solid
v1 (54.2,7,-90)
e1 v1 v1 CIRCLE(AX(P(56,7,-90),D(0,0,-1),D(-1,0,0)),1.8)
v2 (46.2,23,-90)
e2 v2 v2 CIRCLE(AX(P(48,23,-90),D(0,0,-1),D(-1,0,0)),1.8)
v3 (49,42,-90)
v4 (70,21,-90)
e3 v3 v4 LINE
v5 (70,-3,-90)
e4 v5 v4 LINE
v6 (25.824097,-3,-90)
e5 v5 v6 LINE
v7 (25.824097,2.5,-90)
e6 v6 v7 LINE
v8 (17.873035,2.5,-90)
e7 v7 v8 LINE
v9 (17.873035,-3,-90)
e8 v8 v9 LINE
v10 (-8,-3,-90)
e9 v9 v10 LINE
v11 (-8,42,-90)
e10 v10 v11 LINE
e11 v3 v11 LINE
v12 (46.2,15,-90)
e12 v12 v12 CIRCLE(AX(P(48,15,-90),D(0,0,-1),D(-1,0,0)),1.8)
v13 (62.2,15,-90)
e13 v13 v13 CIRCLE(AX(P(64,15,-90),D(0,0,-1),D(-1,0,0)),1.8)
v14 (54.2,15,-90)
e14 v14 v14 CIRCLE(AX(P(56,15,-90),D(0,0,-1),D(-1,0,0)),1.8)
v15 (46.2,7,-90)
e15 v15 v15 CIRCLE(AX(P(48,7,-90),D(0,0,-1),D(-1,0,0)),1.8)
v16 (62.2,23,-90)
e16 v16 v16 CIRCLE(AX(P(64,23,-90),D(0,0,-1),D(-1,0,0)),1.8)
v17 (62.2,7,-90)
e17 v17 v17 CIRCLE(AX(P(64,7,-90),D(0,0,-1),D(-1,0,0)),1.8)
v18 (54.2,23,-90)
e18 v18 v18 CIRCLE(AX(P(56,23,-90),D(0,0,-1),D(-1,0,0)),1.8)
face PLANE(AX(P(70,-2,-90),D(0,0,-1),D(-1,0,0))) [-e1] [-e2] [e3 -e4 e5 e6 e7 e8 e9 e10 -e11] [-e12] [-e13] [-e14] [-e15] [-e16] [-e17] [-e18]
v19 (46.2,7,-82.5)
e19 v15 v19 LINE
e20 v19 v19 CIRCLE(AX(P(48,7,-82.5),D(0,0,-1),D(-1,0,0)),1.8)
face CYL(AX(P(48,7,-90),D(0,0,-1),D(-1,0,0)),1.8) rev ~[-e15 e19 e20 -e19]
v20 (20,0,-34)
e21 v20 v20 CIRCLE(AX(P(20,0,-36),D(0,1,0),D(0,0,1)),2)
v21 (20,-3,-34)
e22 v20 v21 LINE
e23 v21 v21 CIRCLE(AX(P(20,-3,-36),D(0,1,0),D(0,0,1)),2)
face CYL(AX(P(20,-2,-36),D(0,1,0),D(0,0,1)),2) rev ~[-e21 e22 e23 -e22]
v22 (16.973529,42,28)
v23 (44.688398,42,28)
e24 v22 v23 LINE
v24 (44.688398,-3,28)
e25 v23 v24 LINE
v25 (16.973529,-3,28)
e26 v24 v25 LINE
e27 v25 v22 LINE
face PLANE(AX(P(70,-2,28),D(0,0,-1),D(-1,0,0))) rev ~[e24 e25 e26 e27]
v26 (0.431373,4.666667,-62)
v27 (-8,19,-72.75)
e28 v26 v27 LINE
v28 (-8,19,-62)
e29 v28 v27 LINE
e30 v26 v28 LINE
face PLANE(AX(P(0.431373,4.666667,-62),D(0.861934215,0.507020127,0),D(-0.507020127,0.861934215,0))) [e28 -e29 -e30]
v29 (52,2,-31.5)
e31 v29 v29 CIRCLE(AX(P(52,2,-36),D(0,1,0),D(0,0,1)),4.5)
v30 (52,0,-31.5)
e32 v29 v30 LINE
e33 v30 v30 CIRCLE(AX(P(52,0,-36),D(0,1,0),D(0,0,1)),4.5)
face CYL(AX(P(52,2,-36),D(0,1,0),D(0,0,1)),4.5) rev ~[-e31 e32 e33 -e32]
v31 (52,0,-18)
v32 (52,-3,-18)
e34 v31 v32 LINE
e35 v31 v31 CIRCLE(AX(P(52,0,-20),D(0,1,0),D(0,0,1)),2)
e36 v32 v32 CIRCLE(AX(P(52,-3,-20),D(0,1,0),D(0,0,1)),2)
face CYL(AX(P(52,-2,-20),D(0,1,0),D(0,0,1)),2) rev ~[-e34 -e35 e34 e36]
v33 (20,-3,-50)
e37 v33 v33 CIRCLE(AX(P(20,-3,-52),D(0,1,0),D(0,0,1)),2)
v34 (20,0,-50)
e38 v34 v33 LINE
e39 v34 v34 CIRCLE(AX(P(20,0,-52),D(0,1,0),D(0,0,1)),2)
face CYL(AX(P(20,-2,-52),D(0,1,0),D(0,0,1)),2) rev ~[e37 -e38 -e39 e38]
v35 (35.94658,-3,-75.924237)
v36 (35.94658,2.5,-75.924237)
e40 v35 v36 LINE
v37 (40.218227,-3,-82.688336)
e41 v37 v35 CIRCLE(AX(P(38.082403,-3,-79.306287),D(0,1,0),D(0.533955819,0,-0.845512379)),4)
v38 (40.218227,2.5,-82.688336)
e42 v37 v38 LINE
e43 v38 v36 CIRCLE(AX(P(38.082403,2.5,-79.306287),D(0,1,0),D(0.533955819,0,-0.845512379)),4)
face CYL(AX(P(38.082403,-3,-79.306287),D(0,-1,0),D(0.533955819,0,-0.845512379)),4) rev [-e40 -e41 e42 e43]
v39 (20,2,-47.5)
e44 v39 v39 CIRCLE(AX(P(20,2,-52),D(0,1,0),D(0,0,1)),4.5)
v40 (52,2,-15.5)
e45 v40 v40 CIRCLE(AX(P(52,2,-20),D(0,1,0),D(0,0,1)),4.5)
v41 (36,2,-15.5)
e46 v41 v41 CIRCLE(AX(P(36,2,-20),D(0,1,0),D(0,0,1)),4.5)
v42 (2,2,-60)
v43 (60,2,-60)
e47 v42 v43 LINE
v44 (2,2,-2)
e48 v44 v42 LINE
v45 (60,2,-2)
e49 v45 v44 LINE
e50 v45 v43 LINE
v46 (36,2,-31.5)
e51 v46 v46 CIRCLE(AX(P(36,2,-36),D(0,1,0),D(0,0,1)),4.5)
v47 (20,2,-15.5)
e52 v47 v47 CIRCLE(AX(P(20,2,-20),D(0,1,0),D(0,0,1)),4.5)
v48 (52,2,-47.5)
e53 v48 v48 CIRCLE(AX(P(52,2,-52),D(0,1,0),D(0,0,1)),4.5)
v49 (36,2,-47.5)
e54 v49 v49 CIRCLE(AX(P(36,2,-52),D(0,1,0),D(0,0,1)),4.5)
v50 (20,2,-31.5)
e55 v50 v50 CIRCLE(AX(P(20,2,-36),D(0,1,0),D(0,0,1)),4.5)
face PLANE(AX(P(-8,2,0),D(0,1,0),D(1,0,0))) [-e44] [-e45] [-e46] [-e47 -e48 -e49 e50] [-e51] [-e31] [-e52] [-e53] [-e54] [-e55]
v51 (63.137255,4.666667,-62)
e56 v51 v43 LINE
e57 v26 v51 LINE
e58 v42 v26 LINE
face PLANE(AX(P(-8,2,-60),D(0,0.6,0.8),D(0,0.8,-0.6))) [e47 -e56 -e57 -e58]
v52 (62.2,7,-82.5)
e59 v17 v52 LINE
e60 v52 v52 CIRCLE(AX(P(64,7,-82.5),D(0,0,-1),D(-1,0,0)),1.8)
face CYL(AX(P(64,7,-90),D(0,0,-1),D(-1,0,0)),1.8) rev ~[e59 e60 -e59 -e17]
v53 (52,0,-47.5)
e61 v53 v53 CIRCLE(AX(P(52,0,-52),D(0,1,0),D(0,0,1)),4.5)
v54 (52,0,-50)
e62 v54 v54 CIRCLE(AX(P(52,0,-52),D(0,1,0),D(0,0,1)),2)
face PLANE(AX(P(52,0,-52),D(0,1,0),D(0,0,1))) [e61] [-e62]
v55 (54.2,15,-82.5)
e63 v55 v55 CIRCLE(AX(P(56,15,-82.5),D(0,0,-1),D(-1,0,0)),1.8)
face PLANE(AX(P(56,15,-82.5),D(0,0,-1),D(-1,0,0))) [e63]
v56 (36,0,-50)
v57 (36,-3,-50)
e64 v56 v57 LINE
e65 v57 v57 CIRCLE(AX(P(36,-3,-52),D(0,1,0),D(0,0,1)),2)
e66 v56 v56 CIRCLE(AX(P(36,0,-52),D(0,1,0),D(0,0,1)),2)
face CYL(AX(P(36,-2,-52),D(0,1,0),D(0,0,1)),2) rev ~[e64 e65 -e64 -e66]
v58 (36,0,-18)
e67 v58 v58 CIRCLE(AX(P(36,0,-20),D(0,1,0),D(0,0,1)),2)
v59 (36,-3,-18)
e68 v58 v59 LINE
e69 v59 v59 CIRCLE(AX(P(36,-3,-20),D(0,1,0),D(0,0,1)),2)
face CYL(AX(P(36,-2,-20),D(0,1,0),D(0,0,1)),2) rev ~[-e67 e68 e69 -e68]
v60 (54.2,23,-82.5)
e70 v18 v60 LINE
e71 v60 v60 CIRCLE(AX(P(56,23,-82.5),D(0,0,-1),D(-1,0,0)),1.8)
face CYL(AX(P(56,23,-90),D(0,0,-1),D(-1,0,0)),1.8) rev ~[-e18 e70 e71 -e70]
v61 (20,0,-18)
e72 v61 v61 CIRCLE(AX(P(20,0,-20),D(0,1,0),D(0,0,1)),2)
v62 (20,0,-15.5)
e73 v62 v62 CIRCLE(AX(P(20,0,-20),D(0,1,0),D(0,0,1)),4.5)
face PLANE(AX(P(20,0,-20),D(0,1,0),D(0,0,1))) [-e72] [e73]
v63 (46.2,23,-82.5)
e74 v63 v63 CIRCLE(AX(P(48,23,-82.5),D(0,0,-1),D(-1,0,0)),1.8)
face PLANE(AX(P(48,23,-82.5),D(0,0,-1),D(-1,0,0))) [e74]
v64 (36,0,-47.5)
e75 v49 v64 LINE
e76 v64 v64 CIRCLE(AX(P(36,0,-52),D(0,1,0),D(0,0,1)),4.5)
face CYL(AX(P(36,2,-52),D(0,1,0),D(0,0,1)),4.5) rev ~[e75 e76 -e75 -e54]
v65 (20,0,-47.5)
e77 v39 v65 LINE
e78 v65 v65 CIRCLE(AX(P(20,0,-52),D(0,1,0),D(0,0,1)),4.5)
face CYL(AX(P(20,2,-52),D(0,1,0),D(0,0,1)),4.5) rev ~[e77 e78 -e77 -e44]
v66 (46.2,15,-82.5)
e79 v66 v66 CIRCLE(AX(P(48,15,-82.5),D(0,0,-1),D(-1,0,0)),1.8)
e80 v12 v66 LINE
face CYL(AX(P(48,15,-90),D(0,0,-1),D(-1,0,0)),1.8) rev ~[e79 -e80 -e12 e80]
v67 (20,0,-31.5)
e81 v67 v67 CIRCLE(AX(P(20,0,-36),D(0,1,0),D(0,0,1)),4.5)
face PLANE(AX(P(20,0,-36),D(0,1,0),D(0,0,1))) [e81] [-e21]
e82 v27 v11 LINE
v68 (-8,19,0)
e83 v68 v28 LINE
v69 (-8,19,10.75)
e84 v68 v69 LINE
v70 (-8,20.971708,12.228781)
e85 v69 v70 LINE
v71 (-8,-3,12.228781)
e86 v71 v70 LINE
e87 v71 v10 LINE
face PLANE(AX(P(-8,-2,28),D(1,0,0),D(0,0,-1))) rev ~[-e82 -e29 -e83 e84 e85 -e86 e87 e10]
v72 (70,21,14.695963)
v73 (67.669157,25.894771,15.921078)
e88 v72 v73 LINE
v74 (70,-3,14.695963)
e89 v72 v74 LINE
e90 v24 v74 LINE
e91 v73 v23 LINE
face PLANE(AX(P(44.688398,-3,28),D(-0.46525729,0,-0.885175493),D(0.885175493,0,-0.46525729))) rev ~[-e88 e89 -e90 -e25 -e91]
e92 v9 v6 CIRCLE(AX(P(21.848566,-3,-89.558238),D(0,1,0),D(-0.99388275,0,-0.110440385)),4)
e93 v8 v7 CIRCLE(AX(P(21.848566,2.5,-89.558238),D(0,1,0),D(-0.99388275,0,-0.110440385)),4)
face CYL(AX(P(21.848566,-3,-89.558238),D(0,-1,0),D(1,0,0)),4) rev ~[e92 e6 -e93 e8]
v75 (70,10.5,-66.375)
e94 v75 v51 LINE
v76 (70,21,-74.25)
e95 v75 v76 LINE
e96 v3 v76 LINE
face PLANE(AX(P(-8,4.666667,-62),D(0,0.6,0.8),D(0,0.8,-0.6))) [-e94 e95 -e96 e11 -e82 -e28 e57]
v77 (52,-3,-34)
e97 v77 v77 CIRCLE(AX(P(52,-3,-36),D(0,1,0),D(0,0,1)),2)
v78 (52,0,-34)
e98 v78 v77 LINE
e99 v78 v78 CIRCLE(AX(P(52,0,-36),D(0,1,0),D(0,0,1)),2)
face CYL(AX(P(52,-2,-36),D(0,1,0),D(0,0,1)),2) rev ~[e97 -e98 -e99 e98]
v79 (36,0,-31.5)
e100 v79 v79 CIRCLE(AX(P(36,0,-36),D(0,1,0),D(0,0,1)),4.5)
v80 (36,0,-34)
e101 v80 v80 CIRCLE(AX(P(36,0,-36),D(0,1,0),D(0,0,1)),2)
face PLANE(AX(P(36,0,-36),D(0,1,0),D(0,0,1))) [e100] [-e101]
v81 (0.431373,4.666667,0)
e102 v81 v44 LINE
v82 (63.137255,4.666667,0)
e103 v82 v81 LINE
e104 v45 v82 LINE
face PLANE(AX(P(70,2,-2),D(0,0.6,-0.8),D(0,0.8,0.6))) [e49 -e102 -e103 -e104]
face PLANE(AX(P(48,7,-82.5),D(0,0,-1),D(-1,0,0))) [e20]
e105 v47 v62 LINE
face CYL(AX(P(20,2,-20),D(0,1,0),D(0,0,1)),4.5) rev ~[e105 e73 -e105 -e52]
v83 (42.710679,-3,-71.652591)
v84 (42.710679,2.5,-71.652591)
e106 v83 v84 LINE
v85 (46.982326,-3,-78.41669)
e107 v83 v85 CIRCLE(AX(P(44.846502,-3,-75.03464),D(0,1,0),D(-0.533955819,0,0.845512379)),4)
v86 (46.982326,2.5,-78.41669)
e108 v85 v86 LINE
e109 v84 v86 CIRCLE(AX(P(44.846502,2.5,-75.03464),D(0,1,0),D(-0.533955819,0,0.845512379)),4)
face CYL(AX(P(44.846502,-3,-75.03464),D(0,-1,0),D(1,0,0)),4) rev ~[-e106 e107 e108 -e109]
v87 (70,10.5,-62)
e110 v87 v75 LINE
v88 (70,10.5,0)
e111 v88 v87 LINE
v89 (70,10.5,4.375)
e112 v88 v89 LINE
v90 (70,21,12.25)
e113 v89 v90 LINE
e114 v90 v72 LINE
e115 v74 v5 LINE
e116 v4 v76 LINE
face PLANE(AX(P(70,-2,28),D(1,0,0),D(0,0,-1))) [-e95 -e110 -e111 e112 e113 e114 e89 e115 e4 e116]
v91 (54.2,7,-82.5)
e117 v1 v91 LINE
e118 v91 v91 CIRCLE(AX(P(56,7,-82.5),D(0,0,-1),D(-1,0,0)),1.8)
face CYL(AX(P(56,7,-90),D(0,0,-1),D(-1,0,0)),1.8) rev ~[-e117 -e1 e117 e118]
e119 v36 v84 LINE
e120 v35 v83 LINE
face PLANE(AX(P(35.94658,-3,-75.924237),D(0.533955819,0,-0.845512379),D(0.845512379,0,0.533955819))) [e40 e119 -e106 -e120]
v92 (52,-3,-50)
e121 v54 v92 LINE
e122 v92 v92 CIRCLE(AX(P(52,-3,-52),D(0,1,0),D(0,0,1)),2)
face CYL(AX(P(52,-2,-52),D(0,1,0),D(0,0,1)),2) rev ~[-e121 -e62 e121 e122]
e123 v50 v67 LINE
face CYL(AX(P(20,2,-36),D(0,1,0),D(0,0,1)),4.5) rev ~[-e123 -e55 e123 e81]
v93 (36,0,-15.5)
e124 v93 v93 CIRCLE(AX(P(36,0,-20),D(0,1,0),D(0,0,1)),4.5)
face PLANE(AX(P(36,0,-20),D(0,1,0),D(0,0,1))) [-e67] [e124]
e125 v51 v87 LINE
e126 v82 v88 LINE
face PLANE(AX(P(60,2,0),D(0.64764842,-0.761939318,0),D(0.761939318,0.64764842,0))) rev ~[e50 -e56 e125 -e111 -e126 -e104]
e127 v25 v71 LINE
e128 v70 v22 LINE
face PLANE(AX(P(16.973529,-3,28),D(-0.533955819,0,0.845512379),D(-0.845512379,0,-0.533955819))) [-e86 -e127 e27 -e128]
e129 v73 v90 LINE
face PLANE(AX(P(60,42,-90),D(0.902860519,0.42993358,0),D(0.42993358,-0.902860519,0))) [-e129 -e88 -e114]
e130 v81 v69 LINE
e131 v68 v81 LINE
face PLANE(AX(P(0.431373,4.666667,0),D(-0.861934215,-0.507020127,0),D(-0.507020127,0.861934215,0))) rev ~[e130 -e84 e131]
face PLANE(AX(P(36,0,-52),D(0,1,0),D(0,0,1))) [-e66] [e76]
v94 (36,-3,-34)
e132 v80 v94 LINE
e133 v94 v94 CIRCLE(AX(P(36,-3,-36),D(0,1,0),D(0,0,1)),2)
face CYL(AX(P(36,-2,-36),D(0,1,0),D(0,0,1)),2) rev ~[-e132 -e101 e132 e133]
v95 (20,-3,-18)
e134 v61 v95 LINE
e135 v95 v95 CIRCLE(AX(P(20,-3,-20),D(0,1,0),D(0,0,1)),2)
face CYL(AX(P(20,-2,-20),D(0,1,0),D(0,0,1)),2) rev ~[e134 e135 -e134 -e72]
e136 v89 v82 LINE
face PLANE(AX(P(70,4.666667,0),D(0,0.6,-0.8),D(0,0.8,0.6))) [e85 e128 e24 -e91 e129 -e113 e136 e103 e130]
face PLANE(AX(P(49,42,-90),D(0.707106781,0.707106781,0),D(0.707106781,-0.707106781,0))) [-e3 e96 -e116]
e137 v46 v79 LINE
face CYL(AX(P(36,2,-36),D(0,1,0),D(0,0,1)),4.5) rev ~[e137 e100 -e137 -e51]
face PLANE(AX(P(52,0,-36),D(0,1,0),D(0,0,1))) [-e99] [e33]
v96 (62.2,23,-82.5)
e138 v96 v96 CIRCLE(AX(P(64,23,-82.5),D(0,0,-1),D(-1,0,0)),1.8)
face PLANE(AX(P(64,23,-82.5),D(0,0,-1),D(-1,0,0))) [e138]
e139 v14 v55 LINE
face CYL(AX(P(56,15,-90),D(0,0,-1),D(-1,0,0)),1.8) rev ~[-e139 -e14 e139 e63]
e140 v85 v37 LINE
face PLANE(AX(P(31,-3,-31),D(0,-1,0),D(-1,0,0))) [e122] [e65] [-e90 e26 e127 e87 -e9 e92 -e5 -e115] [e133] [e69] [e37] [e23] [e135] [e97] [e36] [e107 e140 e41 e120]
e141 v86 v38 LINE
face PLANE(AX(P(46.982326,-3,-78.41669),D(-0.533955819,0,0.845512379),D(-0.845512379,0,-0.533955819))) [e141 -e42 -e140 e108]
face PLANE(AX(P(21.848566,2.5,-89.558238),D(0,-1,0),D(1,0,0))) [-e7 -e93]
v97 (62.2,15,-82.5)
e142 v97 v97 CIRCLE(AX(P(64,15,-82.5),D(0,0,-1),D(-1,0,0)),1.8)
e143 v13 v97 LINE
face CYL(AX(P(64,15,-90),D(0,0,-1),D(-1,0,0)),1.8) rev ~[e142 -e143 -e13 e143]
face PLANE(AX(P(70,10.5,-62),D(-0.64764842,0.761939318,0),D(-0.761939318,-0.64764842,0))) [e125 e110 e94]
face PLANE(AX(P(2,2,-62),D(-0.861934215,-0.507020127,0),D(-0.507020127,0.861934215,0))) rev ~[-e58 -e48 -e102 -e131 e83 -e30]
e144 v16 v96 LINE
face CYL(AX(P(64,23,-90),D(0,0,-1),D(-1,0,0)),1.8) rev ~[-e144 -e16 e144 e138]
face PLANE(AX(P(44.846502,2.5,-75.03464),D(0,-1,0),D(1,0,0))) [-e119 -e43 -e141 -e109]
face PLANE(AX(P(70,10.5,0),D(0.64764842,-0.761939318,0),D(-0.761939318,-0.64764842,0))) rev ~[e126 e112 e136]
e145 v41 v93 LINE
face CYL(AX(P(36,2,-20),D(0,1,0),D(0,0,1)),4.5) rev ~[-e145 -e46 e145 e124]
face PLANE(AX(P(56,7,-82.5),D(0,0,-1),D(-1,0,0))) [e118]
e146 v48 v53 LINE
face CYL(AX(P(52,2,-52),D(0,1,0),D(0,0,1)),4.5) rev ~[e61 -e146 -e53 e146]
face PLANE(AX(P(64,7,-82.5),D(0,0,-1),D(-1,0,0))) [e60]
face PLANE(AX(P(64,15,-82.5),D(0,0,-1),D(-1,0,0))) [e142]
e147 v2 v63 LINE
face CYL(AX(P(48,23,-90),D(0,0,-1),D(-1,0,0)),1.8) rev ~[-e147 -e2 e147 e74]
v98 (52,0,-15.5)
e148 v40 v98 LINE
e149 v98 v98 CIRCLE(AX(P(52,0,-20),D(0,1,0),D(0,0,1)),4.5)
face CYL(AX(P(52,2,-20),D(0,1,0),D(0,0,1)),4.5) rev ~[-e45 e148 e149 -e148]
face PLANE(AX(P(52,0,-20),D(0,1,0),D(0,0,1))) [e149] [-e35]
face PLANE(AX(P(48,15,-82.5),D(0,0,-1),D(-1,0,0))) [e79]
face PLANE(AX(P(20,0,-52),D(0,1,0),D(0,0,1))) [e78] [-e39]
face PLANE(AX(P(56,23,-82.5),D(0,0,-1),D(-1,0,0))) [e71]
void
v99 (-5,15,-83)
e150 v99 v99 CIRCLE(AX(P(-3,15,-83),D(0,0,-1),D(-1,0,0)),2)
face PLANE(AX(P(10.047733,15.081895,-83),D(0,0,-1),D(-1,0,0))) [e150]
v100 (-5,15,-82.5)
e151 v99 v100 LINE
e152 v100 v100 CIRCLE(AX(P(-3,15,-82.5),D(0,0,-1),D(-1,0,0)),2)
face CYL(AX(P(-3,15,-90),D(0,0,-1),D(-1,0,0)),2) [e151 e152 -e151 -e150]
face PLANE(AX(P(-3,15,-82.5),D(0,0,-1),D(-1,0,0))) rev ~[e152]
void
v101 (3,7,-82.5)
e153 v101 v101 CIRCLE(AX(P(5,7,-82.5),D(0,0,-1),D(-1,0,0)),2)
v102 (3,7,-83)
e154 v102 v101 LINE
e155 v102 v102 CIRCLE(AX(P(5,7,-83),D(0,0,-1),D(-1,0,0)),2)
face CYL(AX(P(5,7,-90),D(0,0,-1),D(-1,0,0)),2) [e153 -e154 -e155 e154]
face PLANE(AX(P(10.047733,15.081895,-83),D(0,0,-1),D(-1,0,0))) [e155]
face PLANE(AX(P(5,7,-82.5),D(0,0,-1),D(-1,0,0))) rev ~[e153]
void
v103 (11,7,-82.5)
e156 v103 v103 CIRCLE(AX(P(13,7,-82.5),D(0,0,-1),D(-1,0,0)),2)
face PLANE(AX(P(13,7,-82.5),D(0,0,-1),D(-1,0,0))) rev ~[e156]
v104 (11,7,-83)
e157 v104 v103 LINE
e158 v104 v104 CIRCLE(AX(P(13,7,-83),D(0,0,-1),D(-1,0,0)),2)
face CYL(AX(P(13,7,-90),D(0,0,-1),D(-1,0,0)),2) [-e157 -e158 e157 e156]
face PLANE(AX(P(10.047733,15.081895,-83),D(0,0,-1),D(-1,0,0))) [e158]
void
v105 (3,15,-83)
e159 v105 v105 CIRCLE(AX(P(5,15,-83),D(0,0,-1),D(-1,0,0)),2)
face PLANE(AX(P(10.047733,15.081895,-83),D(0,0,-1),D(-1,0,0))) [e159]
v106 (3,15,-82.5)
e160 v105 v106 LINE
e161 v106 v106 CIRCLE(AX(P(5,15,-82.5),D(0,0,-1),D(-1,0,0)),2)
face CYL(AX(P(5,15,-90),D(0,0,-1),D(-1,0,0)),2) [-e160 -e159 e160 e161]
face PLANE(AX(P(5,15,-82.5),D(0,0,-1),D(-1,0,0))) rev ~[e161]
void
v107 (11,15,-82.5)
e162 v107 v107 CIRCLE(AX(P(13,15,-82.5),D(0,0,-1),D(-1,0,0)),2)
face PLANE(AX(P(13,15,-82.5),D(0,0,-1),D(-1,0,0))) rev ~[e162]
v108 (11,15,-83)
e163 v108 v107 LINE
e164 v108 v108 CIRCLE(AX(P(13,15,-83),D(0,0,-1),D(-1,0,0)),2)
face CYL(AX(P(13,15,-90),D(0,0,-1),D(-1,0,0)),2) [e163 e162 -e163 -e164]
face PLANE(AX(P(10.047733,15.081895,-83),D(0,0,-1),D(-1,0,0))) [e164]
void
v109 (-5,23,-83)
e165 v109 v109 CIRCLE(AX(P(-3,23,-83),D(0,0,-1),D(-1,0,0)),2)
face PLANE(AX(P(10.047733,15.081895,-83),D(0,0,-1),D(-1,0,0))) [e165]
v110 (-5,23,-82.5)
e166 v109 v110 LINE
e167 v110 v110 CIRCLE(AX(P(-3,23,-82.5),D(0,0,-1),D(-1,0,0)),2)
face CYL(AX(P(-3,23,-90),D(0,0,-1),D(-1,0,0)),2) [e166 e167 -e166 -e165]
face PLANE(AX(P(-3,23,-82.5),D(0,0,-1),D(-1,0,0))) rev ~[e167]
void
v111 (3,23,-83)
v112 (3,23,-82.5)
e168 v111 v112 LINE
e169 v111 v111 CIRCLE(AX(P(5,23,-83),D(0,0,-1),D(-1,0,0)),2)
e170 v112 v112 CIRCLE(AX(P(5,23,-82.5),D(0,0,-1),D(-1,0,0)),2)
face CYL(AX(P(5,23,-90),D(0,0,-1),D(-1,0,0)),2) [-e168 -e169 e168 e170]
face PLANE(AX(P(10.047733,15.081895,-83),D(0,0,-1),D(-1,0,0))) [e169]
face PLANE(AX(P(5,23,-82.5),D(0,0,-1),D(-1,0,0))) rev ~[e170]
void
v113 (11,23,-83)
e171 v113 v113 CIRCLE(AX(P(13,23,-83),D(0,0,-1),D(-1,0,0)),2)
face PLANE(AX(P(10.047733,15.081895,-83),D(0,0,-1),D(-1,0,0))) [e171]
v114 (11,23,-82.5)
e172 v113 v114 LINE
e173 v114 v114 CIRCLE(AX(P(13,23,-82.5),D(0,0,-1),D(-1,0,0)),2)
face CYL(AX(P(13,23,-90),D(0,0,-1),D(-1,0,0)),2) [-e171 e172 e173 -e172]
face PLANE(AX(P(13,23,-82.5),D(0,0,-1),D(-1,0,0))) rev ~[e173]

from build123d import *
from build123d.topology import SkipClean

# Parameters (mm, degrees)
SKETCH_1_W           = 62
SKETCH_1_H           = 62
EXTRUDE_1_DEPTH      = 19
SKETCH_4_W           = 58
SKETCH_4_H           = 58
CUT_EXTRUDE_1_DEPTH  = 17
SKETCH_5_W           = 8
SKETCH_5_H           = 62
EXTRUDE_2_DEPTH      = 19
SKETCH_7_W           = 58
SKETCH_7_H           = 17
CUT_EXTRUDE_2_DEPTH  = 19
CUT_EXTRUDE_3_DEPTH  = 108
SKETCH_9_W           = 70
SKETCH_9_H           = 2
EXTRUDE_3_DEPTH      = 28
SKETCH_10_W          = 70
SKETCH_10_H          = 28
EXTRUDE_4_DEPTH      = 40
CUT_EXTRUDE_5_DEPTH  = 90
SKETCH_14_W          = 60
SKETCH_14_H          = 62
CUT_EXTRUDE_6_DEPTH  = 17
SKETCH_15_W          = 62
SKETCH_15_H          = 2
EXTRUDE_6_DEPTH      = 8
SKETCH_18_W          = 10
SKETCH_18_H          = 62
EXTRUDE_8_DEPTH      = 19
CUT_EXTRUDE_7_DEPTH  = 62
EXTRUDE_9_DEPTH      = 8
SKETCH_23_W          = 78
SKETCH_23_H          = 2
EXTRUDE_13_DEPTH     = 28
SKETCH_25_W          = 78
SKETCH_25_H          = 28
EXTRUDE_14_DEPTH     = 40
CUT_EXTRUDE_8_DEPTH  = 99
EXTRUDE_19_DEPTH     = 78
EXTRUDE_20_DEPTH     = 78
EXTRUDE_21_DEPTH     = 24
EXTRUDE_22_DEPTH     = 24
EXTRUDE_23_DEPTH     = 24
EXTRUDE_24_DEPTH     = 24
SKETCH_43_W          = 78
SKETCH_43_H          = 118
EXTRUDE_25_DEPTH     = 1
CUT_EXTRUDE_14_DEPTH = 127
CUT_EXTRUDE_15_DEPTH = 80
SKETCH_49_R          = 2
CUT_EXTRUDE_17_DEPTH = 19
SKETCH_50_R          = 4.5
CUT_EXTRUDE_18_DEPTH = 2
SKETCH_55_R          = 2
CUT_EXTRUDE_20_DEPTH = 7.5
SKETCH_57_W          = 36.095465849
SKETCH_57_H          = 32.16378967
EXTRUDE_26_DEPTH     = 7
SKETCH_63_R          = 1.8
CUT_EXTRUDE_23_DEPTH = 7.5
SKETCH_64_W          = 78
SKETCH_64_H          = 118
EXTRUDE_27_DEPTH     = 1
SKETCH_65_R          = 2
CUT_EXTRUDE_24_DEPTH = 29
SKETCH_66_W          = 78
SKETCH_66_H          = 118
EXTRUDE_28_DEPTH     = 1
SKETCH_68_R          = 2
CUT_EXTRUDE_25_DEPTH = 28
CUT_EXTRUDE_26_DEPTH = 123.576506721
SKETCH_70_R          = 4
CUT_EXTRUDE_27_DEPTH = 5.5
CUT_EXTRUDE_28_REACH = 145.485


with BuildPart() as part:
    # 草圖1 → 填料-伸長1 (new body)
    with BuildSketch(Plane(origin=(0, 0, 0), x_dir=(1, 0, 0), z_dir=(0, 1, 0))):
        with Locations((31, 31)):
            Rectangle(SKETCH_1_W, SKETCH_1_H)
    extrude(amount=EXTRUDE_1_DEPTH)

    # 草圖4 → 除料-伸長1 (cut)
    with BuildSketch(Plane(origin=(0, 19, 0), x_dir=(1, 0, 0), z_dir=(0, 1, 0))):
        with Locations((31, 31)):
            Rectangle(SKETCH_4_W, SKETCH_4_H)
    extrude(amount=-CUT_EXTRUDE_1_DEPTH, mode=Mode.SUBTRACT)

    # 草圖5 → 填料-伸長2 (add)
    with BuildSketch(Plane(origin=(0, 19, 0), x_dir=(1, 0, 0), z_dir=(0, 1, 0))):
        with Locations((-4, 31)):
            Rectangle(SKETCH_5_W, SKETCH_5_H)
    extrude(amount=-EXTRUDE_2_DEPTH)

    # 草圖7 → 除料-伸長2 (cut)
    with BuildSketch(Plane.XY.offset(-60)):
        with Locations((31, 10.5)):
            Rectangle(SKETCH_7_W, SKETCH_7_H)
    extrude(amount=-CUT_EXTRUDE_2_DEPTH, mode=Mode.SUBTRACT)

    # 草圖8 → 除料-伸長3 (cut)
    with BuildSketch(Plane(origin=(0, 0, -62), x_dir=(-1, 0, 0), z_dir=(0, 0, -1))):
        Polygon((-2, 2), (8, 19), (-2, 19), align=None)
    extrude(amount=-CUT_EXTRUDE_3_DEPTH, mode=Mode.SUBTRACT)

    # 草圖9 → 填料-伸長3 (add)
    with BuildSketch(Plane(origin=(0, 0, -62), x_dir=(-1, 0, 0), z_dir=(0, 0, -1))):
        with Locations((-27, 1)):
            Rectangle(SKETCH_9_W, SKETCH_9_H)
    extrude(amount=EXTRUDE_3_DEPTH)

    # 草圖10 → 填料-伸長4 (add)
    with BuildSketch(Plane(origin=(0, 2, 0), x_dir=(1, 0, 0), z_dir=(0, 1, 0))):
        with Locations((27, 76)):
            Rectangle(SKETCH_10_W, SKETCH_10_H)
    extrude(amount=EXTRUDE_4_DEPTH)

    # 草圖11 → 除料-伸長5 (cut)
    with BuildSketch(Plane.ZY.offset(8)):
        Polygon((-62, 42), (-62, 2), (-90, 42), align=None)
    extrude(amount=-CUT_EXTRUDE_5_DEPTH, mode=Mode.SUBTRACT)

    # 草圖14 → 除料-伸長6 (cut)
    with BuildSketch(Plane(origin=(0, 19, 0), x_dir=(1, 0, 0), z_dir=(0, 1, 0))):
        with Locations((32, 31)):
            Rectangle(SKETCH_14_W, SKETCH_14_H)
    extrude(amount=-CUT_EXTRUDE_6_DEPTH, mode=Mode.SUBTRACT)

    # 草圖15 → 填料-伸長6 (add)
    with BuildSketch(Plane(origin=(62, 0, 0), x_dir=(0, 0, -1), z_dir=(1, 0, 0))):
        with Locations((31, 1)):
            Rectangle(SKETCH_15_W, SKETCH_15_H)
    extrude(amount=EXTRUDE_6_DEPTH)

    # 草圖18 → 填料-伸長8 (add)
    with BuildSketch(Plane(origin=(0, 2, 0), x_dir=(1, 0, 0), z_dir=(0, 1, 0))):
        with Locations((65, 31)):
            Rectangle(SKETCH_18_W, SKETCH_18_H)
    extrude(amount=EXTRUDE_8_DEPTH)

    # 草圖19 → 除料-伸長7 (cut)
    with BuildSketch(Plane.XY):
        Polygon((60, 2), (70, 10.5), (70, 21), (60, 21), align=None)
    extrude(amount=-CUT_EXTRUDE_7_DEPTH, mode=Mode.SUBTRACT)

    # 草圖20 → 填料-伸長9 (add)
    with BuildSketch(Plane(origin=(62, 0, 0), x_dir=(0, 0, -1), z_dir=(1, 0, 0))):
        Polygon((90, 42), (62, 2), (62, 0), (90, 0), align=None)
    extrude(amount=EXTRUDE_9_DEPTH)

    # 草圖23 → 填料-伸長13 (add)
    with BuildSketch(Plane.XY):
        with Locations((31, 1)):
            Rectangle(SKETCH_23_W, SKETCH_23_H)
    extrude(amount=EXTRUDE_13_DEPTH)

    # 草圖25 → 填料-伸長14 (add)
    with BuildSketch(Plane(origin=(0, 2, 0), x_dir=(1, 0, 0), z_dir=(0, 1, 0))):
        with Locations((31, -14)):
            Rectangle(SKETCH_25_W, SKETCH_25_H)
    extrude(amount=EXTRUDE_14_DEPTH)

    # 草圖26 → 除料-伸長8 (cut)
    with BuildSketch(Plane.ZY.offset(8)):
        Polygon((28, 42), (0, 42), (0, 2), align=None)
    extrude(amount=-CUT_EXTRUDE_8_DEPTH, mode=Mode.SUBTRACT)

    # 草圖34 → 填料-伸長19 (add)
    with BuildSketch(Plane(origin=(70, 0, 0), x_dir=(0, 0, -1), z_dir=(1, 0, 0))):
        Polygon((-28, 2), (0, 2), (-28, 42), align=None)
        Polygon((-28, 42), (0, 2), (0, 4.666666667), align=None)
        Polygon((0, 4.666666667), (0, 2), (2, 2), align=None)
    extrude(amount=-EXTRUDE_19_DEPTH)

    # 草圖36 → 填料-伸長20 (add)
    with BuildSketch(Plane.ZY.offset(8)):
        Polygon((-90, 2), (-62, 2), (-90, 42), align=None)
        Polygon((-90, 42), (-62, 2), (-62, 4.666666667), align=None)
        Polygon((-62, 4.666666667), (-62, 2), (-60, 2), align=None)
    extrude(amount=-EXTRUDE_20_DEPTH)

    # 草圖37 → 填料-伸長21 (add)
    with BuildSketch(Plane(origin=(0, 0, -62), x_dir=(-1, 0, 0), z_dir=(0, 0, -1))):
        Polygon((8, 4.666666667), (-0.431372549, 4.666666667), (8, 19), align=None)
    extrude(amount=EXTRUDE_21_DEPTH)

    # 草圖38 → 填料-伸長22 (add)
    with BuildSketch(Plane(origin=(0, 0, -62), x_dir=(-1, 0, 0), z_dir=(0, 0, -1))):
        Polygon((-63.137254902, 4.666666667), (-70, 4.666666667), (-70, 10.5), align=None)
    extrude(amount=EXTRUDE_22_DEPTH)

    # 草圖39 → 填料-伸長23 (add)
    with BuildSketch(Plane.XY):
        Polygon((-8, 19), (-8, 4.666666667), (0.431372549, 4.666666667), align=None)
    extrude(amount=EXTRUDE_23_DEPTH)

    # 草圖40 → 填料-伸長24 (add)
    with BuildSketch(Plane.XY):
        Polygon((70, 10.5), (63.137254902, 4.666666667), (70, 4.666666667), align=None)
    extrude(amount=EXTRUDE_24_DEPTH)

    # 草圖43 → 填料-伸長25 (add)
    with BuildSketch(Plane(origin=(0, 0, 0), x_dir=(-1, 0, 0), z_dir=(0, -1, 0))):
        with Locations((-31, 31)):
            Rectangle(SKETCH_43_W, SKETCH_43_H)
    extrude(amount=EXTRUDE_25_DEPTH)

    # 草圖46 → 除料-伸長14 (cut)
    with BuildSketch(Plane(origin=(0, 0, -90), x_dir=(-1, 0, 0), z_dir=(0, 0, -1))):
        Polygon((-70, 42), (-60, 42), (-70, 21), align=None)
    extrude(amount=-CUT_EXTRUDE_14_DEPTH, mode=Mode.SUBTRACT)

    # 草圖47 → 除料-伸長15 (cut)
    with BuildSketch(Plane.XY.offset(28)):
        Polygon((-8, 42), (2, 42), (-8, 21), align=None)
    extrude(amount=-CUT_EXTRUDE_15_DEPTH, mode=Mode.SUBTRACT)

    # 草圖49 → 除料-伸長17 (cut)
    with BuildSketch(Plane(origin=(0, 2, 0), x_dir=(1, 0, 0), z_dir=(0, 1, 0))):
        with Locations(Location((52, 52, 0), (0, 0, 270))):
            Circle(SKETCH_49_R)
        with Locations(Location((36, 52, 0), (0, 0, 270))):
            Circle(SKETCH_49_R)
        with Locations(Location((20, 52, 0), (0, 0, 270))):
            Circle(SKETCH_49_R)
        with Locations(Location((36, 36, 0), (0, 0, 270))):
            Circle(SKETCH_49_R)
        with Locations(Location((20, 36, 0), (0, 0, 270))):
            Circle(SKETCH_49_R)
        with Locations(Location((36, 20, 0), (0, 0, 270))):
            Circle(SKETCH_49_R)
        with Locations(Location((20, 20, 0), (0, 0, 270))):
            Circle(SKETCH_49_R)
        with Locations(Location((52, 36, 0), (0, 0, 270))):
            Circle(SKETCH_49_R)
        with Locations(Location((52, 20, 0), (0, 0, 270))):
            Circle(SKETCH_49_R)
    extrude(amount=-CUT_EXTRUDE_17_DEPTH, mode=Mode.SUBTRACT)

    # 草圖50 → 除料-伸長18 (cut)
    with BuildSketch(Plane(origin=(0, 2, 0), x_dir=(1, 0, 0), z_dir=(0, 1, 0))):
        with Locations(Location((52, 20, 0), (0, 0, 270))):
            Circle(SKETCH_50_R)
        with Locations(Location((36, 20, 0), (0, 0, 270))):
            Circle(SKETCH_50_R)
        with Locations(Location((20, 20, 0), (0, 0, 270))):
            Circle(SKETCH_50_R)
        with Locations(Location((36, 36, 0), (0, 0, 270))):
            Circle(SKETCH_50_R)
        with Locations(Location((20, 36, 0), (0, 0, 270))):
            Circle(SKETCH_50_R)
        with Locations(Location((36, 52, 0), (0, 0, 270))):
            Circle(SKETCH_50_R)
        with Locations(Location((20, 52, 0), (0, 0, 270))):
            Circle(SKETCH_50_R)
        with Locations(Location((52, 36, 0), (0, 0, 270))):
            Circle(SKETCH_50_R)
        with Locations(Location((52, 52, 0), (0, 0, 270))):
            Circle(SKETCH_50_R)
    extrude(amount=-CUT_EXTRUDE_18_DEPTH, mode=Mode.SUBTRACT)

    # 草圖55 → 除料-伸長20 (cut)
    with BuildSketch(Plane(origin=(0, 0, -90), x_dir=(-1, 0, 0), z_dir=(0, 0, -1))):
        with Locations((-5, 7)):
            Circle(SKETCH_55_R)
        with Locations((-13, 7)):
            Circle(SKETCH_55_R)
        with Locations((-5, 15)):
            Circle(SKETCH_55_R)
        with Locations((-13, 15)):
            Circle(SKETCH_55_R)
        with Locations((-5, 23)):
            Circle(SKETCH_55_R)
        with Locations((-13, 23)):
            Circle(SKETCH_55_R)
        with Locations((3, 15)):
            Circle(SKETCH_55_R)
        with Locations((3, 23)):
            Circle(SKETCH_55_R)
    extrude(amount=-CUT_EXTRUDE_20_DEPTH, mode=Mode.SUBTRACT)

    # 草圖57 → 填料-伸長26 (add)
    with SkipClean():  # the faces are left unmerged after this step: merging them gives an invalid solid
        with BuildSketch(Plane(origin=(0, 0, -90), x_dir=(-1, 0, 0), z_dir=(0, 0, -1))):
            with Locations((-10.047732924, 15.081894835)):
                Rectangle(SKETCH_57_W, SKETCH_57_H)
        extrude(amount=-EXTRUDE_26_DEPTH)

    # 草圖63 → 除料-伸長23 (cut)
    with SkipClean():  # the faces are left unmerged after this step: merging them gives an invalid solid
        with BuildSketch(Plane(origin=(0, 0, -90), x_dir=(-1, 0, 0), z_dir=(0, 0, -1))):
            with Locations((-64, 7)):
                Circle(SKETCH_63_R)
            with Locations((-56, 7)):
                Circle(SKETCH_63_R)
            with Locations((-48, 7)):
                Circle(SKETCH_63_R)
            with Locations((-56, 15)):
                Circle(SKETCH_63_R)
            with Locations((-48, 15)):
                Circle(SKETCH_63_R)
            with Locations((-56, 23)):
                Circle(SKETCH_63_R)
            with Locations((-48, 23)):
                Circle(SKETCH_63_R)
            with Locations((-64, 15)):
                Circle(SKETCH_63_R)
            with Locations((-64, 23)):
                Circle(SKETCH_63_R)
        extrude(amount=-CUT_EXTRUDE_23_DEPTH, mode=Mode.SUBTRACT)

    # 草圖64 → 填料-伸長27 (add)
    with SkipClean():  # the faces are left unmerged after this step: merging them gives an invalid solid
        with BuildSketch(Plane(origin=(0, -1, 0), x_dir=(-1, 0, 0), z_dir=(0, -1, 0))):
            with Locations((-31, 31)):
                Rectangle(SKETCH_64_W, SKETCH_64_H)
        extrude(amount=EXTRUDE_27_DEPTH)

    # 草圖65 → 除料-伸長24 (cut)
    with SkipClean():  # the faces are left unmerged after this step: merging them gives an invalid solid
        with BuildSketch(Plane(origin=(0, -1, 0), x_dir=(1, 0, 0), z_dir=(0, 1, 0))):
            with Locations(Location((52, 52, 0), (0, 0, 270))):
                Circle(SKETCH_65_R)
            with Locations(Location((36, 52, 0), (0, 0, 270))):
                Circle(SKETCH_65_R)
            with Locations(Location((20, 52, 0), (0, 0, 270))):
                Circle(SKETCH_65_R)
            with Locations(Location((36, 36, 0), (0, 0, 270))):
                Circle(SKETCH_65_R)
            with Locations(Location((20, 36, 0), (0, 0, 270))):
                Circle(SKETCH_65_R)
            with Locations(Location((36, 20, 0), (0, 0, 270))):
                Circle(SKETCH_65_R)
            with Locations(Location((20, 20, 0), (0, 0, 270))):
                Circle(SKETCH_65_R)
            with Locations(Location((52, 36, 0), (0, 0, 270))):
                Circle(SKETCH_65_R)
            with Locations(Location((52, 20, 0), (0, 0, 270))):
                Circle(SKETCH_65_R)
        extrude(amount=-CUT_EXTRUDE_24_DEPTH, mode=Mode.SUBTRACT)

    # 草圖66 → 填料-伸長28 (add)
    with SkipClean():  # the faces are left unmerged after this step: merging them gives an invalid solid
        with BuildSketch(Plane(origin=(0, -2, 0), x_dir=(-1, 0, 0), z_dir=(0, -1, 0))):
            with Locations((-31, 31)):
                Rectangle(SKETCH_66_W, SKETCH_66_H)
        extrude(amount=EXTRUDE_28_DEPTH)

    # 草圖68 → 除料-伸長25 (cut)
    with SkipClean():  # the faces are left unmerged after this step: merging them gives an invalid solid
        with BuildSketch(Plane(origin=(0, -2, 0), x_dir=(1, 0, 0), z_dir=(0, 1, 0))):
            with Locations(Location((20, 20, 0), (0, 0, 270))):
                Circle(SKETCH_68_R)
            with Locations(Location((36, 20, 0), (0, 0, 270))):
                Circle(SKETCH_68_R)
            with Locations(Location((52, 20, 0), (0, 0, 270))):
                Circle(SKETCH_68_R)
            with Locations(Location((36, 36, 0), (0, 0, 270))):
                Circle(SKETCH_68_R)
            with Locations(Location((52, 36, 0), (0, 0, 270))):
                Circle(SKETCH_68_R)
            with Locations(Location((36, 52, 0), (0, 0, 270))):
                Circle(SKETCH_68_R)
            with Locations(Location((52, 52, 0), (0, 0, 270))):
                Circle(SKETCH_68_R)
            with Locations(Location((20, 36, 0), (0, 0, 270))):
                Circle(SKETCH_68_R)
            with Locations(Location((20, 52, 0), (0, 0, 270))):
                Circle(SKETCH_68_R)
        extrude(amount=-CUT_EXTRUDE_25_DEPTH, mode=Mode.SUBTRACT)

    # 草圖69 → 除料-伸長26 (cut, through all)
    with SkipClean():  # the faces are left unmerged after this step: merging them gives an invalid solid
        with BuildSketch(Plane.XZ.offset(3)):
            Polygon((44.688398055, 28), (70, 14.695963205), (70, 28), align=None)
            Polygon((-8, 12.228780626), (-8, 28), (16.973529168, 28), align=None)
        extrude(amount=-CUT_EXTRUDE_26_DEPTH, mode=Mode.SUBTRACT)

    # 草圖70 → 除料-伸長27 (cut)
    with SkipClean():  # the faces are left unmerged after this step: merging them gives an invalid solid
        with BuildSketch(Plane.XZ.offset(3)):
            with Locations((44.846502364, -75.034640188)):
                Circle(SKETCH_70_R)
            with Locations((38.08240333, -79.306286739)):
                Circle(SKETCH_70_R)
            with Locations((21.848565648, -89.558238461)):
                Circle(SKETCH_70_R)
            with BuildLine():
                Line((46.98232564, -78.416689705), (40.218226606, -82.688336256))
                ThreePointArc((40.218226606, -82.688336256), (34.700353813, -81.442110014), (35.946580055, -75.924237222))
                Line((35.946580055, -75.924237222), (42.710679089, -71.652590671))
                ThreePointArc((42.710679089, -71.652590671), (48.228551881, -72.898816913), (46.98232564, -78.416689705))
            make_face()
        extrude(amount=-CUT_EXTRUDE_27_DEPTH, mode=Mode.SUBTRACT)

    # 草圖71 → 除料-伸長28 (cut, up to next)
    with BuildSketch(Plane(origin=(0, 0, -90), x_dir=(-1, 0, 0), z_dir=(0, 0, -1)), mode=Mode.PRIVATE) as cut_extrude_28_sk1:
        Polygon((-70, 21), (-60, 42), (-49, 42), align=None)
    cut_extrude_28_tool1 = extrude(cut_extrude_28_sk1.sketch, amount=-CUT_EXTRUDE_28_REACH, mode=Mode.PRIVATE) & part.part
    add(cut_extrude_28_tool1.solids().sort_by_distance((59.666667, 35, -90))[0], mode=Mode.SUBTRACT)


solid = part.part
